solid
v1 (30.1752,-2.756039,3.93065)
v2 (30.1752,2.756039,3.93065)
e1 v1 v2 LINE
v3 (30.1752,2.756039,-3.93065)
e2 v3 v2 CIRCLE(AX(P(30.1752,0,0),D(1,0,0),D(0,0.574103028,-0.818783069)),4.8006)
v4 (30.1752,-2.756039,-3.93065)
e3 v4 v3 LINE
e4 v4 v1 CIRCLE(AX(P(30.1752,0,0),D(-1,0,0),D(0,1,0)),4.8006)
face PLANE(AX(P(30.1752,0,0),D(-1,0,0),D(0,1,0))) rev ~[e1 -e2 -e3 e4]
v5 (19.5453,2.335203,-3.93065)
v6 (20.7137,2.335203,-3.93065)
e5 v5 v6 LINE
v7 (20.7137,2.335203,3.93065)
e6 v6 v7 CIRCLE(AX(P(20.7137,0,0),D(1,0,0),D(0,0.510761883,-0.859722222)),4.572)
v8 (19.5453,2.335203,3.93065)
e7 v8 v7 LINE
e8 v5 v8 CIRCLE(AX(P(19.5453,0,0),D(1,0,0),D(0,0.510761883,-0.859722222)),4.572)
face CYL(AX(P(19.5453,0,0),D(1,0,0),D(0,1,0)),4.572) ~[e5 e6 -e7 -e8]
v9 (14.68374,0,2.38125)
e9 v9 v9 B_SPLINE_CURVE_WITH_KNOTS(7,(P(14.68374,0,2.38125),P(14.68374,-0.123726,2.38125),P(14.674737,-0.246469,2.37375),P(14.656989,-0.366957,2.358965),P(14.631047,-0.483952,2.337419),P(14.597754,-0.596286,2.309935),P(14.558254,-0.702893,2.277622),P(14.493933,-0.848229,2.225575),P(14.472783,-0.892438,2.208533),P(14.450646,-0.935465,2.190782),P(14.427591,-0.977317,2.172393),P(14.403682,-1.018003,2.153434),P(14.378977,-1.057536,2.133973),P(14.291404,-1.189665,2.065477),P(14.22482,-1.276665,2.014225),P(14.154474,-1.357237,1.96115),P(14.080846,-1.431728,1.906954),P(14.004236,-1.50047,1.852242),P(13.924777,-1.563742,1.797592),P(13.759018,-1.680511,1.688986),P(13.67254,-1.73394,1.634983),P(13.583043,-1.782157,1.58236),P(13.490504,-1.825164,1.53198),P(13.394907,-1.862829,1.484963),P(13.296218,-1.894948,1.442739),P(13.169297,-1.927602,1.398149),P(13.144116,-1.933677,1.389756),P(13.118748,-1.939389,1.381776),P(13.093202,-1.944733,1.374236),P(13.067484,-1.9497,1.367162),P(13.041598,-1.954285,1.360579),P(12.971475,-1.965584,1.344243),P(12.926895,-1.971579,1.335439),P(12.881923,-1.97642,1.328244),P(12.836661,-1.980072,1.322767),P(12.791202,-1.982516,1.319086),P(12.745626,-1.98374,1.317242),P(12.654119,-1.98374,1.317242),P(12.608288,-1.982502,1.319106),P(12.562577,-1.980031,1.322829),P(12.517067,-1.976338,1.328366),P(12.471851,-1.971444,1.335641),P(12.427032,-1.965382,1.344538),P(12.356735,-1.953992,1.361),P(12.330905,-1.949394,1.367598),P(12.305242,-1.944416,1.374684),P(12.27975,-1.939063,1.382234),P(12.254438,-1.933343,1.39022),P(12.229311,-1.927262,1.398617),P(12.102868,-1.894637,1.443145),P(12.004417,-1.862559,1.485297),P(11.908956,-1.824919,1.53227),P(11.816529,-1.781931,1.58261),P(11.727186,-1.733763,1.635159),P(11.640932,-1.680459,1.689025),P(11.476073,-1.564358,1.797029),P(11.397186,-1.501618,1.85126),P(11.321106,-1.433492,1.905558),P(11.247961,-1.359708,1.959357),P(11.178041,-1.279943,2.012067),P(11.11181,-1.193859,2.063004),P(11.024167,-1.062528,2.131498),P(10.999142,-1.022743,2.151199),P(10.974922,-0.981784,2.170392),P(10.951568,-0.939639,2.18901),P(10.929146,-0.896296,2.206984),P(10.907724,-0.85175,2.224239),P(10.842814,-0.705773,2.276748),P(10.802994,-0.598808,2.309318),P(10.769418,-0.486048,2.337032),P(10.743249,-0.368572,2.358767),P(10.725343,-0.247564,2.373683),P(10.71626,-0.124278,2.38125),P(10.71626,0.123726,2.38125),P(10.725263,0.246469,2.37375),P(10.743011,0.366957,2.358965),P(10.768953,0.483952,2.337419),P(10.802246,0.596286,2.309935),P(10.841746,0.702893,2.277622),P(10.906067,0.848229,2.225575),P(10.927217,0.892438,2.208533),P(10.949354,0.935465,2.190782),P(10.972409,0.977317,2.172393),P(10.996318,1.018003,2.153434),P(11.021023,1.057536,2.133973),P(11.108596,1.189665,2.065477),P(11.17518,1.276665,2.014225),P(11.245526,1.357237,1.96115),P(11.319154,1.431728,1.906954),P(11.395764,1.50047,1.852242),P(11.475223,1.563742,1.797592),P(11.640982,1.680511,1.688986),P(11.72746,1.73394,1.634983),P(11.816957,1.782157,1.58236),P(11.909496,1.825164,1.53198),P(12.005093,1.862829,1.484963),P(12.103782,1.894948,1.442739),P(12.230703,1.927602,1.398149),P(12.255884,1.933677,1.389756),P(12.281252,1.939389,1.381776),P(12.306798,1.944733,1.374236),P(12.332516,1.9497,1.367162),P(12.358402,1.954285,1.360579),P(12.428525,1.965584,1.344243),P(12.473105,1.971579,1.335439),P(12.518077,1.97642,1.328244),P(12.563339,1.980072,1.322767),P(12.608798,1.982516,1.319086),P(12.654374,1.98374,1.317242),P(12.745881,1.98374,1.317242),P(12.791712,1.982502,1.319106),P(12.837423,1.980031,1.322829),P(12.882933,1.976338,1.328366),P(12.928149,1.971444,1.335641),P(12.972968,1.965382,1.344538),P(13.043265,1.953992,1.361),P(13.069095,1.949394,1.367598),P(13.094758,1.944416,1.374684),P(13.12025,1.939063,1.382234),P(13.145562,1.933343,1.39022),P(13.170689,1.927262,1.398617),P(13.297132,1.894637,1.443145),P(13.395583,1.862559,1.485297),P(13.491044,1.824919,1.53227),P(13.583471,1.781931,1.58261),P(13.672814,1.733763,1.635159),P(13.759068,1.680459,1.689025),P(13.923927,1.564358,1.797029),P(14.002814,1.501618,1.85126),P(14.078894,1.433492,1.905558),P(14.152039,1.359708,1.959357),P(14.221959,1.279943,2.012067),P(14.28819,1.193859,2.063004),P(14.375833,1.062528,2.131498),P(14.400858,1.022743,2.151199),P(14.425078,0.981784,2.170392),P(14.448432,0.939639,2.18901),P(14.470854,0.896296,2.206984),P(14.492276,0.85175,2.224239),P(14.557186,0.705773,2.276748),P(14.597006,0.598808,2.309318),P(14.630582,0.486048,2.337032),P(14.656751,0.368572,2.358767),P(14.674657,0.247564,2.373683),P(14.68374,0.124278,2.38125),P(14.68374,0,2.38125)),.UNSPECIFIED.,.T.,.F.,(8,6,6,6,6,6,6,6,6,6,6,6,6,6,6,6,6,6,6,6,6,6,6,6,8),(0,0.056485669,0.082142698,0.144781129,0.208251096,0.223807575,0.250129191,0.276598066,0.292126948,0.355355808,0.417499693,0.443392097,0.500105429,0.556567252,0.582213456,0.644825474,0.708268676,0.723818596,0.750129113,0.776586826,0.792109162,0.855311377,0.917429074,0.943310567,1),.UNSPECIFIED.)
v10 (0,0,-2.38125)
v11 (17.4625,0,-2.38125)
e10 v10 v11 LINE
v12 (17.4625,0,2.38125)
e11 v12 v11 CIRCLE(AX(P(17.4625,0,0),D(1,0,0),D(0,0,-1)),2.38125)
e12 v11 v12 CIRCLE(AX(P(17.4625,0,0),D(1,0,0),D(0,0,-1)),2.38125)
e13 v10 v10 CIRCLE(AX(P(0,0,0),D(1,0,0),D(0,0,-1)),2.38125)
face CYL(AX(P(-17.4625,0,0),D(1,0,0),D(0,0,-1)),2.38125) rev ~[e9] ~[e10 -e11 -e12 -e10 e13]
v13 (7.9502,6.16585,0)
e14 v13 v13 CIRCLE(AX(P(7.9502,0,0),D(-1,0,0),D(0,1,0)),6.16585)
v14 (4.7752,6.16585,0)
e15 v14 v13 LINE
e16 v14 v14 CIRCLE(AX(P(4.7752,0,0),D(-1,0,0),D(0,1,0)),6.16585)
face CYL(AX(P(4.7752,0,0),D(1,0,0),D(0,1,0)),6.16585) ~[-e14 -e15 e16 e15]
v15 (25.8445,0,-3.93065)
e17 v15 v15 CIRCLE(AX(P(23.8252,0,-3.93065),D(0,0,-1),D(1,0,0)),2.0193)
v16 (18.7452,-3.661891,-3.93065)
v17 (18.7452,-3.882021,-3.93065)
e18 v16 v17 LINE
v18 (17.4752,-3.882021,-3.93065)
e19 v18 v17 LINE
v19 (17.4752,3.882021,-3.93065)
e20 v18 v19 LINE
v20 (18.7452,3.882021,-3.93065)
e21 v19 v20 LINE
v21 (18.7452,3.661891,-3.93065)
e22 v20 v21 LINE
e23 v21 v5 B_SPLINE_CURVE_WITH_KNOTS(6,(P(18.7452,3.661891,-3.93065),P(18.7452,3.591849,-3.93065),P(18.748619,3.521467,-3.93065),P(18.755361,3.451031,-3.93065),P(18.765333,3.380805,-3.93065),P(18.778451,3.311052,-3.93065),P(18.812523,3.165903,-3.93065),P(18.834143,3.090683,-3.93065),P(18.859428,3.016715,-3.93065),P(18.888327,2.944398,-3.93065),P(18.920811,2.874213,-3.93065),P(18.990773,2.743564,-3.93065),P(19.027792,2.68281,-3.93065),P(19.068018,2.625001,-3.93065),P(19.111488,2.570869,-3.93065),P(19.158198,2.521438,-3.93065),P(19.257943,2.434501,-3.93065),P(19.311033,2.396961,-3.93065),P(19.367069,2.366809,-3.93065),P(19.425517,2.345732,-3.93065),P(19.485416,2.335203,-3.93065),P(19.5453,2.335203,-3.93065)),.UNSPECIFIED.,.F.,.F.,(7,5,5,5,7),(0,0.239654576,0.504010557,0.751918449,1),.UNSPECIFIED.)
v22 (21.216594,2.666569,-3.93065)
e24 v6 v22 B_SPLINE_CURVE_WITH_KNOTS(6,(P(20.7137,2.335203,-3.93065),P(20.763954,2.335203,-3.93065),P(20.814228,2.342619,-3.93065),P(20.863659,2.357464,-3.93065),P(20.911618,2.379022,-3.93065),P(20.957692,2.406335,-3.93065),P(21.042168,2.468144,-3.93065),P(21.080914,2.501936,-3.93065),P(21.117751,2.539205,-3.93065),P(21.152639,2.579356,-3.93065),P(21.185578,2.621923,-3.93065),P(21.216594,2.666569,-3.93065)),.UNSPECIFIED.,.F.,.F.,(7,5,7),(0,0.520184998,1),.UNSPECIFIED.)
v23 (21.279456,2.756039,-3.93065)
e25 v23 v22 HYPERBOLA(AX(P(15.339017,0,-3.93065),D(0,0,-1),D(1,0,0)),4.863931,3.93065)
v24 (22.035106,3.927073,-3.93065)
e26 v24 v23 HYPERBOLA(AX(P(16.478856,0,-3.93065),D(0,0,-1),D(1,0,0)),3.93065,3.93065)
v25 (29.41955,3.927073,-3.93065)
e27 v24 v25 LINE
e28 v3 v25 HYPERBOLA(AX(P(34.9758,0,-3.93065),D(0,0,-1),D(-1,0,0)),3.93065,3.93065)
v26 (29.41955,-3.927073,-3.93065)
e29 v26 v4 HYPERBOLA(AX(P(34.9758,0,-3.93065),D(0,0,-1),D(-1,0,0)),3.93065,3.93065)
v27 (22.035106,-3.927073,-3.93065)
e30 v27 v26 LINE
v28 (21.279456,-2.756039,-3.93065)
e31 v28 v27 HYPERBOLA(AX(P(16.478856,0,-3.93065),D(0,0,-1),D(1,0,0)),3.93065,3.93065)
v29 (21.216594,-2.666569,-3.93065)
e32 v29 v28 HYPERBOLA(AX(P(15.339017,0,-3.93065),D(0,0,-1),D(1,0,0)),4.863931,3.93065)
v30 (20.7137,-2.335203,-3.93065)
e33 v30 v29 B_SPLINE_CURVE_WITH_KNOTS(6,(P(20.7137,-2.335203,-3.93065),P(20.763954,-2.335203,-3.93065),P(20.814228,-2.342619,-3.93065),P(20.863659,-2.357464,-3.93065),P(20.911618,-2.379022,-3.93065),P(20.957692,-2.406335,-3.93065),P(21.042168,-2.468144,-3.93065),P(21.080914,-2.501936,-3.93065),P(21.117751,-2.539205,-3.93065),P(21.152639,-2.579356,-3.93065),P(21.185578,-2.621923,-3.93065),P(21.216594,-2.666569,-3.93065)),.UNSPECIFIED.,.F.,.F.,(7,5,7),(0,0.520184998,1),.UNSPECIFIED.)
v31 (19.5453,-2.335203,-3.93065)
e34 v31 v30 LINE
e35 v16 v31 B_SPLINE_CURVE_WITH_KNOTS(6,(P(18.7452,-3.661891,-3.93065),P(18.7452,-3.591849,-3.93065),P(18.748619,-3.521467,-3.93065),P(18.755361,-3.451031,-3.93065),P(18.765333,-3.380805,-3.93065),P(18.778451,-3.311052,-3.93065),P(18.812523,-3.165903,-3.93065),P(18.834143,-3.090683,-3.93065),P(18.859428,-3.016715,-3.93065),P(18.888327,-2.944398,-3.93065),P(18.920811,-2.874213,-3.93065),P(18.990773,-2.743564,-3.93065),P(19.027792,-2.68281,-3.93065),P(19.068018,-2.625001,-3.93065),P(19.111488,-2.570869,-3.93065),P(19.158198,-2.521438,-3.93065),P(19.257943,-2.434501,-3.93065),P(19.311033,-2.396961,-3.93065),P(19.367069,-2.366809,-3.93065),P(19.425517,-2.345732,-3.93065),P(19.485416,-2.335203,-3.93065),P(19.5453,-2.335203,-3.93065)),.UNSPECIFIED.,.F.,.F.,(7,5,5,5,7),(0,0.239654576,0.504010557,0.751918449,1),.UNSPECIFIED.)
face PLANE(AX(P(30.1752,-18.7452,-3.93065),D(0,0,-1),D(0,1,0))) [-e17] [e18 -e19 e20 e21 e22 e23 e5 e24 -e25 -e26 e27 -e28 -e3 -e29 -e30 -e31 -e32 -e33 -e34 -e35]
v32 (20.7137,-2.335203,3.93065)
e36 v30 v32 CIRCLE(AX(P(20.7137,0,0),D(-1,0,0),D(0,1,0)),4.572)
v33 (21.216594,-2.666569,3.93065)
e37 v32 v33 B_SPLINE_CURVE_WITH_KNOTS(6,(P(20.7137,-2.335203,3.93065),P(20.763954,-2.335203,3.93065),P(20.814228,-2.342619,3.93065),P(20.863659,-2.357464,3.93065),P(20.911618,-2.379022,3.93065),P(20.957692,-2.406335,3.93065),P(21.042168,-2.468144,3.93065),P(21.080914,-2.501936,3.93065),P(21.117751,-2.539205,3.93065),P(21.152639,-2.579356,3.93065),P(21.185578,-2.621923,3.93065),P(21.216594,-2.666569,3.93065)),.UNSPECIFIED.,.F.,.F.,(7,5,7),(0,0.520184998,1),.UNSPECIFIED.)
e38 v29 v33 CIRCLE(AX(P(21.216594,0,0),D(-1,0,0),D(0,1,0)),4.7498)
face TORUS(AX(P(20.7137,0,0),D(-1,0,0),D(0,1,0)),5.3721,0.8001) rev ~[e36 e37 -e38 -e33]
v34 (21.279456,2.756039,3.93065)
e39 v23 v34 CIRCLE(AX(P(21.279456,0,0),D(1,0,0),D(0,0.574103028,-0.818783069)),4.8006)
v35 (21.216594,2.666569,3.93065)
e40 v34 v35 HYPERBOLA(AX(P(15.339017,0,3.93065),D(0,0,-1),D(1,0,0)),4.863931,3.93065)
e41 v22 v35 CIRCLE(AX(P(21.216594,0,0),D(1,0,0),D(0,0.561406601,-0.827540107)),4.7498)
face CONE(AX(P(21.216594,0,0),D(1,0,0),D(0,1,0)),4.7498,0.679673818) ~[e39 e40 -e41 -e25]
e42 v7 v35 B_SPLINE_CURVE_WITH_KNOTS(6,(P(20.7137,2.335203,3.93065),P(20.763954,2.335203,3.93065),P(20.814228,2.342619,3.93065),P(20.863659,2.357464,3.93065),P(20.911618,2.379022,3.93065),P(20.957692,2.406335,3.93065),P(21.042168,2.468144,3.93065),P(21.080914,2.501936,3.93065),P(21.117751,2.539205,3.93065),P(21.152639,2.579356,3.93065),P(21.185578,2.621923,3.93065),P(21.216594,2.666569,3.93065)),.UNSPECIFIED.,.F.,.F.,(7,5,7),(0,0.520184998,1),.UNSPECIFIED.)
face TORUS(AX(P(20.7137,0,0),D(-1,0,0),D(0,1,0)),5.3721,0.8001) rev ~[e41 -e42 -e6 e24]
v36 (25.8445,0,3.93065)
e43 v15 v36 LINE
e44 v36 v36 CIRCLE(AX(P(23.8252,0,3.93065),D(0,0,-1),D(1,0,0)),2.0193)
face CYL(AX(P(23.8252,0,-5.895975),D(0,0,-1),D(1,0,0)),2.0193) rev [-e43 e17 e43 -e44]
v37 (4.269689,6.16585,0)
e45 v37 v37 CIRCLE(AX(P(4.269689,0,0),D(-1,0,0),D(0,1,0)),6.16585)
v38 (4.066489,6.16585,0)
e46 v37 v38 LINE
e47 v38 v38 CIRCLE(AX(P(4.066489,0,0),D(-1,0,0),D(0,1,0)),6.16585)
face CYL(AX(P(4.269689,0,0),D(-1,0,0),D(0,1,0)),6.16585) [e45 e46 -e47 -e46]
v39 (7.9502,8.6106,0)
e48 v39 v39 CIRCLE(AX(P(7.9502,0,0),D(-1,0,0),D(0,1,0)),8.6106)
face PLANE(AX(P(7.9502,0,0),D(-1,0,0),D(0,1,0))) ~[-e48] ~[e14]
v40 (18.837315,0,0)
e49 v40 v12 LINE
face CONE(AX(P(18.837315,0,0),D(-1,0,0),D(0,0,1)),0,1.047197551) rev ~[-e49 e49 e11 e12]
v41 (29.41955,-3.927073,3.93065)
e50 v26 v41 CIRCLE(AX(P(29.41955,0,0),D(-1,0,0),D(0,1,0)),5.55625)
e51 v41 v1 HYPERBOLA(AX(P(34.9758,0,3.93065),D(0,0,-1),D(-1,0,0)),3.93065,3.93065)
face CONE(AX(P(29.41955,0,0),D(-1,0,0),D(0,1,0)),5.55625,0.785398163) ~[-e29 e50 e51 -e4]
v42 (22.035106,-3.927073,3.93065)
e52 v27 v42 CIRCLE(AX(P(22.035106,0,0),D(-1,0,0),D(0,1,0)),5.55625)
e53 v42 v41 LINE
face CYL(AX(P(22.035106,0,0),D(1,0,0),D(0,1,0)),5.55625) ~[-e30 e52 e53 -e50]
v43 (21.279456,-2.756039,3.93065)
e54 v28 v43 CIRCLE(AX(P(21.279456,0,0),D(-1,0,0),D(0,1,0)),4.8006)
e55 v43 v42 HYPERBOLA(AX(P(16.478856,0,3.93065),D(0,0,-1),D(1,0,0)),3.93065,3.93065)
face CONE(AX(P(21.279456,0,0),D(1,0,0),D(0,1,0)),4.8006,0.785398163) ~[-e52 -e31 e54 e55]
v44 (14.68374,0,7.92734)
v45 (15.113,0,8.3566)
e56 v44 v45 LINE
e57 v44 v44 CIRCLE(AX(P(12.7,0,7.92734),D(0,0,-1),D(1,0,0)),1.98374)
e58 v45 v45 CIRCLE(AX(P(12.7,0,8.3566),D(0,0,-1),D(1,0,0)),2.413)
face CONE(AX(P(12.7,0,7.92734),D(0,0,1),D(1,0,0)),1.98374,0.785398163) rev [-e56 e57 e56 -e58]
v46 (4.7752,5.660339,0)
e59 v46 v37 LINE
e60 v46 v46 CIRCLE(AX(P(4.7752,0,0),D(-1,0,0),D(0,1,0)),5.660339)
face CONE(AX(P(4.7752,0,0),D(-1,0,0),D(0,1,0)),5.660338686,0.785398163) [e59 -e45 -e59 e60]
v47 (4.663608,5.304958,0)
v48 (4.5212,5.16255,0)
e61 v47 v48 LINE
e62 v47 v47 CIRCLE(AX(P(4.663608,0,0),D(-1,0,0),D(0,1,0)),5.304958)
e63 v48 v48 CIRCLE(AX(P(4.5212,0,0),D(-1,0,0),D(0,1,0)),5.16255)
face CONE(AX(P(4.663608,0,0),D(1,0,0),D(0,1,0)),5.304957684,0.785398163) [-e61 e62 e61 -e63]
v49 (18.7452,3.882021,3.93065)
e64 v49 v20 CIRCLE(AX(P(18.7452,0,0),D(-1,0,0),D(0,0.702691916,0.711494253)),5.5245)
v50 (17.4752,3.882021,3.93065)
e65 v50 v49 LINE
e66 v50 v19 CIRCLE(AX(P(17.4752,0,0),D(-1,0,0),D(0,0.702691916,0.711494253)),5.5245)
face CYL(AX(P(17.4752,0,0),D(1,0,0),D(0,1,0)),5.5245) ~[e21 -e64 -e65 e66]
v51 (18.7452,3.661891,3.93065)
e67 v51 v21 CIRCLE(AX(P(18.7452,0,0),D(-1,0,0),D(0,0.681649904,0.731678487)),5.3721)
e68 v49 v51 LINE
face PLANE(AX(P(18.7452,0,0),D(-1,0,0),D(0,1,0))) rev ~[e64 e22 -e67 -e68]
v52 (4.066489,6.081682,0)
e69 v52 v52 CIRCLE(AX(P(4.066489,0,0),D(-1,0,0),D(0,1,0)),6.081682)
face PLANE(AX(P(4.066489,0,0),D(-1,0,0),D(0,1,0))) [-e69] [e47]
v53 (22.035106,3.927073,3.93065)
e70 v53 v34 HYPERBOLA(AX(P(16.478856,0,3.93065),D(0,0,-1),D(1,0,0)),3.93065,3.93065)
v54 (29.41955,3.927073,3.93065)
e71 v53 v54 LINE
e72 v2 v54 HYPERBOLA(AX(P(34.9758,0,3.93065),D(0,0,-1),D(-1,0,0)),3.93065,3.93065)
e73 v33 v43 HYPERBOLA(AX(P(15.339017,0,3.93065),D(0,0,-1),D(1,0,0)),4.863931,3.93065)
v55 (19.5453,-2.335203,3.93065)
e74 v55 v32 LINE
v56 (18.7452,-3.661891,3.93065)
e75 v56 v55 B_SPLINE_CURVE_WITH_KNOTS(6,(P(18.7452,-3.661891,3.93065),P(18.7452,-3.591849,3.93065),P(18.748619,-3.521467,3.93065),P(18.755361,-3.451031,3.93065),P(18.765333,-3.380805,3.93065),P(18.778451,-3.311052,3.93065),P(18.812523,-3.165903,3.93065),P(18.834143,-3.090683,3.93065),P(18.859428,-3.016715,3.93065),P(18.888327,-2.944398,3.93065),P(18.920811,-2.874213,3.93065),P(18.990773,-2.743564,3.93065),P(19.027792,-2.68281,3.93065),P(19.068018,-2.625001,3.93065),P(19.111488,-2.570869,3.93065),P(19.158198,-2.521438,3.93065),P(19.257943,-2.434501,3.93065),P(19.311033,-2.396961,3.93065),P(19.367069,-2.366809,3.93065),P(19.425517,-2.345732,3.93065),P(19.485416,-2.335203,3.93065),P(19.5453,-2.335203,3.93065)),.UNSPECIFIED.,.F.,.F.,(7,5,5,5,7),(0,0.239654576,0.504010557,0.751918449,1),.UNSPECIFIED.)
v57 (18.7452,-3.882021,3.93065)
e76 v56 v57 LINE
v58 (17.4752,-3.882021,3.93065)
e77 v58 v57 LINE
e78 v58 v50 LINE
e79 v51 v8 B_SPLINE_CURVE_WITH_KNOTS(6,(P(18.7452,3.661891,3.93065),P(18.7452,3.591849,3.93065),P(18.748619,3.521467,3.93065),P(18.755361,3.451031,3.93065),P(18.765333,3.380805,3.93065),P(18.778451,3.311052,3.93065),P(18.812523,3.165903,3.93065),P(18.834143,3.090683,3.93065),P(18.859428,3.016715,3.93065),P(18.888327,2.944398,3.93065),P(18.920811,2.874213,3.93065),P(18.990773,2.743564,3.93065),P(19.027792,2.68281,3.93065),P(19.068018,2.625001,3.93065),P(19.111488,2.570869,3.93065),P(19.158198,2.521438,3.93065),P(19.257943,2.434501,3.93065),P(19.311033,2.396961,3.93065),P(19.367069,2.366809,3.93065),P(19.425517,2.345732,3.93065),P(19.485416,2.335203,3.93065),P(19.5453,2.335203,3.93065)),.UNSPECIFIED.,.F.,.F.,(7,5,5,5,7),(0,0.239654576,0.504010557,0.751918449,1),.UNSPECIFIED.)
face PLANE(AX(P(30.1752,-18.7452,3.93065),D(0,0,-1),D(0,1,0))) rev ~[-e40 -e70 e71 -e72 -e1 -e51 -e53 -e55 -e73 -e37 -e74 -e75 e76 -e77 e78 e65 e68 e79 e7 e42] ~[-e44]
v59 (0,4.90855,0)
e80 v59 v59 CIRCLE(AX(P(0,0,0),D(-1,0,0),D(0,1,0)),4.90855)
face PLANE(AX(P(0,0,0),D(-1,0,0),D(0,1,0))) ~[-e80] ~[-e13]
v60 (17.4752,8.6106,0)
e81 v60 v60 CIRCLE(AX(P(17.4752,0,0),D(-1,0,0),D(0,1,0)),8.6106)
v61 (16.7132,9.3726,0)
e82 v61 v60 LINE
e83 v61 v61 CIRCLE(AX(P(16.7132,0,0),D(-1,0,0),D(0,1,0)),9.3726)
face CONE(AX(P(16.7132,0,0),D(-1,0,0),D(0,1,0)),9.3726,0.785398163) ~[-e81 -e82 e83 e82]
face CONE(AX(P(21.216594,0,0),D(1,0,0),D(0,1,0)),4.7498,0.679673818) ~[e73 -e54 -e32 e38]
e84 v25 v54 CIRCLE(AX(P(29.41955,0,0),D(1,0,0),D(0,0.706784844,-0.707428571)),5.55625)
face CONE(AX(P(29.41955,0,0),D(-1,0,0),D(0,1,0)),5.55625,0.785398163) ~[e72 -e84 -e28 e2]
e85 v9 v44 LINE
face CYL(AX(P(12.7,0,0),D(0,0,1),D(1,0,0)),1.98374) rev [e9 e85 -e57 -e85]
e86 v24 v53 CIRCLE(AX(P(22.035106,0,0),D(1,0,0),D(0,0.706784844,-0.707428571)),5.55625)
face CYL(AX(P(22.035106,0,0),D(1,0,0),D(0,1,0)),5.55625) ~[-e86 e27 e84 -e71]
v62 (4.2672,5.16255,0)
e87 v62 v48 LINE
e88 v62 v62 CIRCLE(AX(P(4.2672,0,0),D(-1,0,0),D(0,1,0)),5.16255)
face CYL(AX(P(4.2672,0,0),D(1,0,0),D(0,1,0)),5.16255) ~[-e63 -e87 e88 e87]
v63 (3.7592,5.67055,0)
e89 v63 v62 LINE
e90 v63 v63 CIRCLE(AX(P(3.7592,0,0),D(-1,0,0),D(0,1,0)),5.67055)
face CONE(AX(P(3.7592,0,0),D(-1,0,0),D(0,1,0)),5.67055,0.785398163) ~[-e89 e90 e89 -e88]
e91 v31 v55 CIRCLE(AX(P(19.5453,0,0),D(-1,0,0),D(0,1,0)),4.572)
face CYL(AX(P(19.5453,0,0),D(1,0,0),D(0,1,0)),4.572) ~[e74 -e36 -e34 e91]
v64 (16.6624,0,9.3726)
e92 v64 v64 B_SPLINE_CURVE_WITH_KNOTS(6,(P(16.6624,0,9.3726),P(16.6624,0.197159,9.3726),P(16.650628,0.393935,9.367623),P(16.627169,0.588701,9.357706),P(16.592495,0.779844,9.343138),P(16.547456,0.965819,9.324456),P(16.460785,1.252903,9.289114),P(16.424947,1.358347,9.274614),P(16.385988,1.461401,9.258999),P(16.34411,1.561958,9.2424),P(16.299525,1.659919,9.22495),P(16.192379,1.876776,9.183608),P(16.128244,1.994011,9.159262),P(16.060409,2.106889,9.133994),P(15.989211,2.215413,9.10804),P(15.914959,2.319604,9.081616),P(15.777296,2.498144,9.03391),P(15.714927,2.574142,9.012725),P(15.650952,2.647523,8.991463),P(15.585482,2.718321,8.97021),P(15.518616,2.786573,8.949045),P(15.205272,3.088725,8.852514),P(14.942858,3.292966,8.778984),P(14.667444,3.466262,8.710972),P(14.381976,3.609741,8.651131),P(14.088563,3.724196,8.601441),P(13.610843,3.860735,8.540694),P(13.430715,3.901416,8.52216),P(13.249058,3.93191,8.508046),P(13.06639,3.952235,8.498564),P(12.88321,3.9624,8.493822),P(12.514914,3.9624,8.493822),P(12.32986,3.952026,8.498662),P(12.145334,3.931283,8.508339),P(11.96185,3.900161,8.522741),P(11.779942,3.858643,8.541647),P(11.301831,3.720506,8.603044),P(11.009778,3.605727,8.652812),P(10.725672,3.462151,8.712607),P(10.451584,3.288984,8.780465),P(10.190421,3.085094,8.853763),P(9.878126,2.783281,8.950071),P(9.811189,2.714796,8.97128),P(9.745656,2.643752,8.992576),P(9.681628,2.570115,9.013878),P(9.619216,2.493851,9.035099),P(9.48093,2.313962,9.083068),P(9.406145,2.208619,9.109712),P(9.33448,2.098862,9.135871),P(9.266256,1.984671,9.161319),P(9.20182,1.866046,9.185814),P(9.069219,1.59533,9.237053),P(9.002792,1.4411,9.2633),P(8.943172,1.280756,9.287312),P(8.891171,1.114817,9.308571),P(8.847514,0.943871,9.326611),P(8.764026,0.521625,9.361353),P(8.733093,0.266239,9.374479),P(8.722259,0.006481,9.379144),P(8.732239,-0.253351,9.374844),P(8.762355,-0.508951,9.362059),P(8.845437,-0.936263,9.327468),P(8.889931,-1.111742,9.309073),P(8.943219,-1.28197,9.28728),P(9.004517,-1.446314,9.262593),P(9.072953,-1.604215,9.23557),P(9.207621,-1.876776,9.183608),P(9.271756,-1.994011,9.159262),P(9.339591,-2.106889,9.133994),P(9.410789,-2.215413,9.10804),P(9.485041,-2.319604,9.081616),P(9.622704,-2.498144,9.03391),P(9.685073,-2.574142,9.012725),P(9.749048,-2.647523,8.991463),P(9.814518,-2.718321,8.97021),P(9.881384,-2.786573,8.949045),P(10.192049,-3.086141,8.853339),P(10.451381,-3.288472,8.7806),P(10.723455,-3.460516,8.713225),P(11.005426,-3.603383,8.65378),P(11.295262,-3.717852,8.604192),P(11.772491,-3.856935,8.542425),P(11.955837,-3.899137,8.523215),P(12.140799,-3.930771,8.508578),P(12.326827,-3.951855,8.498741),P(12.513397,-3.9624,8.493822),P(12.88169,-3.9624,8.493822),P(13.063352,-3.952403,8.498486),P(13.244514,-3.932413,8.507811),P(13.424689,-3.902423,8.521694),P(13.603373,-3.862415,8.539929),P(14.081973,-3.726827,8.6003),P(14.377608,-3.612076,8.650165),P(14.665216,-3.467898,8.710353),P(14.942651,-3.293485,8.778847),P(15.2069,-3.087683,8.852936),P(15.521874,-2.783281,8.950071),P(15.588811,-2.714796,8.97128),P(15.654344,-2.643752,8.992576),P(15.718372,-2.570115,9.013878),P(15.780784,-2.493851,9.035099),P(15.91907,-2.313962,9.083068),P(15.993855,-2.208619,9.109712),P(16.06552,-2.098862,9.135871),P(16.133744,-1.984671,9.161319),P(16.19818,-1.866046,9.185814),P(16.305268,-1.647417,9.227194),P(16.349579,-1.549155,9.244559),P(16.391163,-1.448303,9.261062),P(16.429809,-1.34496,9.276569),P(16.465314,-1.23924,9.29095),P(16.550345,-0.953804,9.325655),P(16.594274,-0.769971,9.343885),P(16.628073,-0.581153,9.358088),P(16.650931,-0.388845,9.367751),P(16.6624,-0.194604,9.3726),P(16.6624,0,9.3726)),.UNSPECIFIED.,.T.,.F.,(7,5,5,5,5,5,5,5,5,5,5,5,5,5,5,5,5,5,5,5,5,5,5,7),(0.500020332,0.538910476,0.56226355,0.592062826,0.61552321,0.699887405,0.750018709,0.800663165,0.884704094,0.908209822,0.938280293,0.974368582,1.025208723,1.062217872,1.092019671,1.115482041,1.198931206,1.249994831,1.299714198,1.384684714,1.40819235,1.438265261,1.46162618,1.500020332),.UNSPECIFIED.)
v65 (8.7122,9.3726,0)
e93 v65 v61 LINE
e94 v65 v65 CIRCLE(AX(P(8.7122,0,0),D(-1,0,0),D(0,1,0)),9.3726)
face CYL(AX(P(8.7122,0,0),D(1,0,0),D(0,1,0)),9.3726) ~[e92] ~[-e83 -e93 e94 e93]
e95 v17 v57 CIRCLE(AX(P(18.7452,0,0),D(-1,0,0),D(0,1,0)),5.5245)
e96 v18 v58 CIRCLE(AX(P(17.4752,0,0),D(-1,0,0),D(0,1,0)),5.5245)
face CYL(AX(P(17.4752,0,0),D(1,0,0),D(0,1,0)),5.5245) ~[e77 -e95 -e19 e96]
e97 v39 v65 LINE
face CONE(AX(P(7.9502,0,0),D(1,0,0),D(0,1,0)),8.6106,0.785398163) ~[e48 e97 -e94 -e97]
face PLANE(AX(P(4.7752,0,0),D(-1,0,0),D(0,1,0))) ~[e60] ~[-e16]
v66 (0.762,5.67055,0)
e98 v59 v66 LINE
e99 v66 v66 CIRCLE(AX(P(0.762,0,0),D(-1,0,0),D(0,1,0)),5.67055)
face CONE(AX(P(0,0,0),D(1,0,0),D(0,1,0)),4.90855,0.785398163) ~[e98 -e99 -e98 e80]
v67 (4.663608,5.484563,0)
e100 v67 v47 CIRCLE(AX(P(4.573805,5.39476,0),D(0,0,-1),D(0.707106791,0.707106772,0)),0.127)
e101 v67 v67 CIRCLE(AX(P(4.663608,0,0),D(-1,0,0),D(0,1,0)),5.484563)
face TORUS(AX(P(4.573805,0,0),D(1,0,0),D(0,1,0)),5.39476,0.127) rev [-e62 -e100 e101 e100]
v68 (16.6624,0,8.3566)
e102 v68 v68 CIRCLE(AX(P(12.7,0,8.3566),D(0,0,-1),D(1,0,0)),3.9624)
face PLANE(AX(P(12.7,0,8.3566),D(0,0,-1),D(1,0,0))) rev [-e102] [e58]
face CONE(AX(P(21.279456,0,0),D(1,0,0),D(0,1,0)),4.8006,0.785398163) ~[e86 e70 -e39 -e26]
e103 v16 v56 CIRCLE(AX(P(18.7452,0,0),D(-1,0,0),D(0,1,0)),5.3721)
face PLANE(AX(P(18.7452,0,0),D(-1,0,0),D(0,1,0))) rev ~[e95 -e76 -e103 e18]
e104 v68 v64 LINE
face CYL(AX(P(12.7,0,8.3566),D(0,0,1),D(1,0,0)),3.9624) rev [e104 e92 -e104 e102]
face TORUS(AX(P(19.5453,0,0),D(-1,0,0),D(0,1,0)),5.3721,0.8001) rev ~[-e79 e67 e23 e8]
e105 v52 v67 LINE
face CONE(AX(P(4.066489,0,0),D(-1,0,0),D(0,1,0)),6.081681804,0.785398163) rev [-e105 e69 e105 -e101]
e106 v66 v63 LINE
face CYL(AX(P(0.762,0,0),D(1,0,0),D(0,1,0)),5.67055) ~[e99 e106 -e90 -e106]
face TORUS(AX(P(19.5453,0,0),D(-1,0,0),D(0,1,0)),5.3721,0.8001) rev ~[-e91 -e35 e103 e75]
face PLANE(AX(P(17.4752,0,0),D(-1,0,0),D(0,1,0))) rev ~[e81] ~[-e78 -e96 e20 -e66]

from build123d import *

# Parameters (mm, degrees)
SKETCH3_W               = 37.4904
SKETCH3_H               = 74.9808
SKETCH3_W_2             = 7.8613
SKETCH3_H_2             = 37.4904
CUT_EXTRUDE1_DEPTH      = 12.7
HOLE1_D                 = 4.7625
HOLE1_DEPTH             = 17.4625
HOLE1_TIP               = 1.374815329
CUT_EXTRUDE2_DEPTH      = 5.895975
CUT_EXTRUDE2_DEPTH_BACK = 5.895975
SKETCH8_R               = 2.0193


with BuildPart() as part:
    # Sketch1 → Revolve1 (revolve)
    with BuildSketch(Plane.XY):
        Polygon((0, 0), (0, 4.90855), (0.762, 5.67055), (3.7592, 5.67055), (4.2672, 5.16255), (4.7752, 5.16255), (4.7752, 6.16585), (7.9502, 6.16585), (7.9502, 8.6106), (8.7122, 9.3726), (16.7132, 9.3726), (17.4752, 8.6106), (17.4752, 0), align=None)
    revolve(axis=Axis((17.4752, 0, 0), (-1, 0, 0)))

    # Sketch2 → Revolve2 (revolve)
    with BuildSketch(Plane.XY):
        with BuildLine():
            Line((17.4752, 0), (17.4752, 5.5245))
            Line((17.4752, 5.5245), (18.7452, 5.5245))
            Line((18.7452, 5.5245), (18.7452, 5.3721))
            ThreePointArc((18.7452, 5.3721), (18.979543864, 4.806343864), (19.5453, 4.572))
            Line((19.5453, 4.572), (20.7137, 4.572))
            ThreePointArc((20.7137, 4.572), (20.9804, 4.617758486), (21.216594343, 4.7498))
            Line((21.216594343, 4.7498), (21.279456136, 4.8006))
            Line((21.279456136, 4.8006), (22.035106136, 5.55625))
            Line((22.035106136, 5.55625), (29.41955, 5.55625))
            Line((29.41955, 5.55625), (30.1752, 4.8006))
            Line((30.1752, 4.8006), (30.1752, 0))
            Line((30.1752, 0), (17.4752, 0))
        make_face()
    revolve(axis=Axis((30.1752, 0, 0), (-1, 0, 0)))

    # Sketch3 → Cut-Extrude1 (cut)
    with BuildSketch(Plane(origin=(30.1752, 0, 0), x_dir=(0, 0, -1), z_dir=(1, 0, 0))):
        Rectangle(SKETCH3_W, SKETCH3_H)
        Rectangle(SKETCH3_W_2, SKETCH3_H_2, mode=Mode.SUBTRACT)
    extrude(amount=-CUT_EXTRUDE1_DEPTH, mode=Mode.SUBTRACT)

    # Hole1
    with Locations(Plane.ZY):
        with Locations((0, 0)):
            Hole(HOLE1_D / 2, depth=HOLE1_DEPTH)
            with Locations((0, 0, -(HOLE1_DEPTH + HOLE1_TIP / 2))):  # 120° drill point
                Cone(0, HOLE1_D / 2, HOLE1_TIP, mode=Mode.SUBTRACT)

    # Sketch6 → Cut-Revolve1 (revolve, cut)
    with BuildSketch(Plane(origin=(0, 0, 0), x_dir=(1, 0, 0), z_dir=(0, 1, 0))):
        Polygon((12.7, 0), (14.68374, 0), (14.68374, -7.92734), (15.113, -8.3566), (16.6624, -8.3566), (16.6624, -9.3726), (12.7, -9.3726), align=None)
    revolve(axis=Axis((12.7, 0, 9.3726), (0, 0, -1)), mode=Mode.SUBTRACT)

    # Sketch7 → Revolve3 (revolve)
    with BuildSketch(Plane.XY):
        with BuildLine():
            Line((4.066488686, 6.081681804), (4.663607684, 5.484562806))
            ThreePointArc((4.663607684, 5.484562806), (4.700805122, 5.394760245), (4.663607684, 5.304957684))
            Line((4.663607684, 5.304957684), (4.5212, 5.16255))
            Line((4.5212, 5.16255), (4.2672, 5.16255))
            Line((4.2672, 5.16255), (4.2672, 4.90855))
            Line((4.2672, 4.90855), (4.7752, 4.90855))
            Line((4.7752, 4.90855), (4.7752, 5.660338686))
            Line((4.7752, 5.660338686), (4.269688686, 6.16585))
            Line((4.269688686, 6.16585), (4.066488686, 6.16585))
            Line((4.066488686, 6.16585), (4.066488686, 6.081681804))
        make_face()
    revolve(axis=Axis((4.7752, 0, 0), (-1, 0, 0)))

    # Sketch8 → Cut-Extrude2 (cut, two sides: drawn at the far end of the back side and taken through both)
    with BuildSketch(Plane.XY.offset(-CUT_EXTRUDE2_DEPTH_BACK)):
        with Locations((23.8252, 0)):
            Circle(SKETCH8_R)
    extrude(amount=CUT_EXTRUDE2_DEPTH + CUT_EXTRUDE2_DEPTH_BACK, mode=Mode.SUBTRACT)


solid = part.part
